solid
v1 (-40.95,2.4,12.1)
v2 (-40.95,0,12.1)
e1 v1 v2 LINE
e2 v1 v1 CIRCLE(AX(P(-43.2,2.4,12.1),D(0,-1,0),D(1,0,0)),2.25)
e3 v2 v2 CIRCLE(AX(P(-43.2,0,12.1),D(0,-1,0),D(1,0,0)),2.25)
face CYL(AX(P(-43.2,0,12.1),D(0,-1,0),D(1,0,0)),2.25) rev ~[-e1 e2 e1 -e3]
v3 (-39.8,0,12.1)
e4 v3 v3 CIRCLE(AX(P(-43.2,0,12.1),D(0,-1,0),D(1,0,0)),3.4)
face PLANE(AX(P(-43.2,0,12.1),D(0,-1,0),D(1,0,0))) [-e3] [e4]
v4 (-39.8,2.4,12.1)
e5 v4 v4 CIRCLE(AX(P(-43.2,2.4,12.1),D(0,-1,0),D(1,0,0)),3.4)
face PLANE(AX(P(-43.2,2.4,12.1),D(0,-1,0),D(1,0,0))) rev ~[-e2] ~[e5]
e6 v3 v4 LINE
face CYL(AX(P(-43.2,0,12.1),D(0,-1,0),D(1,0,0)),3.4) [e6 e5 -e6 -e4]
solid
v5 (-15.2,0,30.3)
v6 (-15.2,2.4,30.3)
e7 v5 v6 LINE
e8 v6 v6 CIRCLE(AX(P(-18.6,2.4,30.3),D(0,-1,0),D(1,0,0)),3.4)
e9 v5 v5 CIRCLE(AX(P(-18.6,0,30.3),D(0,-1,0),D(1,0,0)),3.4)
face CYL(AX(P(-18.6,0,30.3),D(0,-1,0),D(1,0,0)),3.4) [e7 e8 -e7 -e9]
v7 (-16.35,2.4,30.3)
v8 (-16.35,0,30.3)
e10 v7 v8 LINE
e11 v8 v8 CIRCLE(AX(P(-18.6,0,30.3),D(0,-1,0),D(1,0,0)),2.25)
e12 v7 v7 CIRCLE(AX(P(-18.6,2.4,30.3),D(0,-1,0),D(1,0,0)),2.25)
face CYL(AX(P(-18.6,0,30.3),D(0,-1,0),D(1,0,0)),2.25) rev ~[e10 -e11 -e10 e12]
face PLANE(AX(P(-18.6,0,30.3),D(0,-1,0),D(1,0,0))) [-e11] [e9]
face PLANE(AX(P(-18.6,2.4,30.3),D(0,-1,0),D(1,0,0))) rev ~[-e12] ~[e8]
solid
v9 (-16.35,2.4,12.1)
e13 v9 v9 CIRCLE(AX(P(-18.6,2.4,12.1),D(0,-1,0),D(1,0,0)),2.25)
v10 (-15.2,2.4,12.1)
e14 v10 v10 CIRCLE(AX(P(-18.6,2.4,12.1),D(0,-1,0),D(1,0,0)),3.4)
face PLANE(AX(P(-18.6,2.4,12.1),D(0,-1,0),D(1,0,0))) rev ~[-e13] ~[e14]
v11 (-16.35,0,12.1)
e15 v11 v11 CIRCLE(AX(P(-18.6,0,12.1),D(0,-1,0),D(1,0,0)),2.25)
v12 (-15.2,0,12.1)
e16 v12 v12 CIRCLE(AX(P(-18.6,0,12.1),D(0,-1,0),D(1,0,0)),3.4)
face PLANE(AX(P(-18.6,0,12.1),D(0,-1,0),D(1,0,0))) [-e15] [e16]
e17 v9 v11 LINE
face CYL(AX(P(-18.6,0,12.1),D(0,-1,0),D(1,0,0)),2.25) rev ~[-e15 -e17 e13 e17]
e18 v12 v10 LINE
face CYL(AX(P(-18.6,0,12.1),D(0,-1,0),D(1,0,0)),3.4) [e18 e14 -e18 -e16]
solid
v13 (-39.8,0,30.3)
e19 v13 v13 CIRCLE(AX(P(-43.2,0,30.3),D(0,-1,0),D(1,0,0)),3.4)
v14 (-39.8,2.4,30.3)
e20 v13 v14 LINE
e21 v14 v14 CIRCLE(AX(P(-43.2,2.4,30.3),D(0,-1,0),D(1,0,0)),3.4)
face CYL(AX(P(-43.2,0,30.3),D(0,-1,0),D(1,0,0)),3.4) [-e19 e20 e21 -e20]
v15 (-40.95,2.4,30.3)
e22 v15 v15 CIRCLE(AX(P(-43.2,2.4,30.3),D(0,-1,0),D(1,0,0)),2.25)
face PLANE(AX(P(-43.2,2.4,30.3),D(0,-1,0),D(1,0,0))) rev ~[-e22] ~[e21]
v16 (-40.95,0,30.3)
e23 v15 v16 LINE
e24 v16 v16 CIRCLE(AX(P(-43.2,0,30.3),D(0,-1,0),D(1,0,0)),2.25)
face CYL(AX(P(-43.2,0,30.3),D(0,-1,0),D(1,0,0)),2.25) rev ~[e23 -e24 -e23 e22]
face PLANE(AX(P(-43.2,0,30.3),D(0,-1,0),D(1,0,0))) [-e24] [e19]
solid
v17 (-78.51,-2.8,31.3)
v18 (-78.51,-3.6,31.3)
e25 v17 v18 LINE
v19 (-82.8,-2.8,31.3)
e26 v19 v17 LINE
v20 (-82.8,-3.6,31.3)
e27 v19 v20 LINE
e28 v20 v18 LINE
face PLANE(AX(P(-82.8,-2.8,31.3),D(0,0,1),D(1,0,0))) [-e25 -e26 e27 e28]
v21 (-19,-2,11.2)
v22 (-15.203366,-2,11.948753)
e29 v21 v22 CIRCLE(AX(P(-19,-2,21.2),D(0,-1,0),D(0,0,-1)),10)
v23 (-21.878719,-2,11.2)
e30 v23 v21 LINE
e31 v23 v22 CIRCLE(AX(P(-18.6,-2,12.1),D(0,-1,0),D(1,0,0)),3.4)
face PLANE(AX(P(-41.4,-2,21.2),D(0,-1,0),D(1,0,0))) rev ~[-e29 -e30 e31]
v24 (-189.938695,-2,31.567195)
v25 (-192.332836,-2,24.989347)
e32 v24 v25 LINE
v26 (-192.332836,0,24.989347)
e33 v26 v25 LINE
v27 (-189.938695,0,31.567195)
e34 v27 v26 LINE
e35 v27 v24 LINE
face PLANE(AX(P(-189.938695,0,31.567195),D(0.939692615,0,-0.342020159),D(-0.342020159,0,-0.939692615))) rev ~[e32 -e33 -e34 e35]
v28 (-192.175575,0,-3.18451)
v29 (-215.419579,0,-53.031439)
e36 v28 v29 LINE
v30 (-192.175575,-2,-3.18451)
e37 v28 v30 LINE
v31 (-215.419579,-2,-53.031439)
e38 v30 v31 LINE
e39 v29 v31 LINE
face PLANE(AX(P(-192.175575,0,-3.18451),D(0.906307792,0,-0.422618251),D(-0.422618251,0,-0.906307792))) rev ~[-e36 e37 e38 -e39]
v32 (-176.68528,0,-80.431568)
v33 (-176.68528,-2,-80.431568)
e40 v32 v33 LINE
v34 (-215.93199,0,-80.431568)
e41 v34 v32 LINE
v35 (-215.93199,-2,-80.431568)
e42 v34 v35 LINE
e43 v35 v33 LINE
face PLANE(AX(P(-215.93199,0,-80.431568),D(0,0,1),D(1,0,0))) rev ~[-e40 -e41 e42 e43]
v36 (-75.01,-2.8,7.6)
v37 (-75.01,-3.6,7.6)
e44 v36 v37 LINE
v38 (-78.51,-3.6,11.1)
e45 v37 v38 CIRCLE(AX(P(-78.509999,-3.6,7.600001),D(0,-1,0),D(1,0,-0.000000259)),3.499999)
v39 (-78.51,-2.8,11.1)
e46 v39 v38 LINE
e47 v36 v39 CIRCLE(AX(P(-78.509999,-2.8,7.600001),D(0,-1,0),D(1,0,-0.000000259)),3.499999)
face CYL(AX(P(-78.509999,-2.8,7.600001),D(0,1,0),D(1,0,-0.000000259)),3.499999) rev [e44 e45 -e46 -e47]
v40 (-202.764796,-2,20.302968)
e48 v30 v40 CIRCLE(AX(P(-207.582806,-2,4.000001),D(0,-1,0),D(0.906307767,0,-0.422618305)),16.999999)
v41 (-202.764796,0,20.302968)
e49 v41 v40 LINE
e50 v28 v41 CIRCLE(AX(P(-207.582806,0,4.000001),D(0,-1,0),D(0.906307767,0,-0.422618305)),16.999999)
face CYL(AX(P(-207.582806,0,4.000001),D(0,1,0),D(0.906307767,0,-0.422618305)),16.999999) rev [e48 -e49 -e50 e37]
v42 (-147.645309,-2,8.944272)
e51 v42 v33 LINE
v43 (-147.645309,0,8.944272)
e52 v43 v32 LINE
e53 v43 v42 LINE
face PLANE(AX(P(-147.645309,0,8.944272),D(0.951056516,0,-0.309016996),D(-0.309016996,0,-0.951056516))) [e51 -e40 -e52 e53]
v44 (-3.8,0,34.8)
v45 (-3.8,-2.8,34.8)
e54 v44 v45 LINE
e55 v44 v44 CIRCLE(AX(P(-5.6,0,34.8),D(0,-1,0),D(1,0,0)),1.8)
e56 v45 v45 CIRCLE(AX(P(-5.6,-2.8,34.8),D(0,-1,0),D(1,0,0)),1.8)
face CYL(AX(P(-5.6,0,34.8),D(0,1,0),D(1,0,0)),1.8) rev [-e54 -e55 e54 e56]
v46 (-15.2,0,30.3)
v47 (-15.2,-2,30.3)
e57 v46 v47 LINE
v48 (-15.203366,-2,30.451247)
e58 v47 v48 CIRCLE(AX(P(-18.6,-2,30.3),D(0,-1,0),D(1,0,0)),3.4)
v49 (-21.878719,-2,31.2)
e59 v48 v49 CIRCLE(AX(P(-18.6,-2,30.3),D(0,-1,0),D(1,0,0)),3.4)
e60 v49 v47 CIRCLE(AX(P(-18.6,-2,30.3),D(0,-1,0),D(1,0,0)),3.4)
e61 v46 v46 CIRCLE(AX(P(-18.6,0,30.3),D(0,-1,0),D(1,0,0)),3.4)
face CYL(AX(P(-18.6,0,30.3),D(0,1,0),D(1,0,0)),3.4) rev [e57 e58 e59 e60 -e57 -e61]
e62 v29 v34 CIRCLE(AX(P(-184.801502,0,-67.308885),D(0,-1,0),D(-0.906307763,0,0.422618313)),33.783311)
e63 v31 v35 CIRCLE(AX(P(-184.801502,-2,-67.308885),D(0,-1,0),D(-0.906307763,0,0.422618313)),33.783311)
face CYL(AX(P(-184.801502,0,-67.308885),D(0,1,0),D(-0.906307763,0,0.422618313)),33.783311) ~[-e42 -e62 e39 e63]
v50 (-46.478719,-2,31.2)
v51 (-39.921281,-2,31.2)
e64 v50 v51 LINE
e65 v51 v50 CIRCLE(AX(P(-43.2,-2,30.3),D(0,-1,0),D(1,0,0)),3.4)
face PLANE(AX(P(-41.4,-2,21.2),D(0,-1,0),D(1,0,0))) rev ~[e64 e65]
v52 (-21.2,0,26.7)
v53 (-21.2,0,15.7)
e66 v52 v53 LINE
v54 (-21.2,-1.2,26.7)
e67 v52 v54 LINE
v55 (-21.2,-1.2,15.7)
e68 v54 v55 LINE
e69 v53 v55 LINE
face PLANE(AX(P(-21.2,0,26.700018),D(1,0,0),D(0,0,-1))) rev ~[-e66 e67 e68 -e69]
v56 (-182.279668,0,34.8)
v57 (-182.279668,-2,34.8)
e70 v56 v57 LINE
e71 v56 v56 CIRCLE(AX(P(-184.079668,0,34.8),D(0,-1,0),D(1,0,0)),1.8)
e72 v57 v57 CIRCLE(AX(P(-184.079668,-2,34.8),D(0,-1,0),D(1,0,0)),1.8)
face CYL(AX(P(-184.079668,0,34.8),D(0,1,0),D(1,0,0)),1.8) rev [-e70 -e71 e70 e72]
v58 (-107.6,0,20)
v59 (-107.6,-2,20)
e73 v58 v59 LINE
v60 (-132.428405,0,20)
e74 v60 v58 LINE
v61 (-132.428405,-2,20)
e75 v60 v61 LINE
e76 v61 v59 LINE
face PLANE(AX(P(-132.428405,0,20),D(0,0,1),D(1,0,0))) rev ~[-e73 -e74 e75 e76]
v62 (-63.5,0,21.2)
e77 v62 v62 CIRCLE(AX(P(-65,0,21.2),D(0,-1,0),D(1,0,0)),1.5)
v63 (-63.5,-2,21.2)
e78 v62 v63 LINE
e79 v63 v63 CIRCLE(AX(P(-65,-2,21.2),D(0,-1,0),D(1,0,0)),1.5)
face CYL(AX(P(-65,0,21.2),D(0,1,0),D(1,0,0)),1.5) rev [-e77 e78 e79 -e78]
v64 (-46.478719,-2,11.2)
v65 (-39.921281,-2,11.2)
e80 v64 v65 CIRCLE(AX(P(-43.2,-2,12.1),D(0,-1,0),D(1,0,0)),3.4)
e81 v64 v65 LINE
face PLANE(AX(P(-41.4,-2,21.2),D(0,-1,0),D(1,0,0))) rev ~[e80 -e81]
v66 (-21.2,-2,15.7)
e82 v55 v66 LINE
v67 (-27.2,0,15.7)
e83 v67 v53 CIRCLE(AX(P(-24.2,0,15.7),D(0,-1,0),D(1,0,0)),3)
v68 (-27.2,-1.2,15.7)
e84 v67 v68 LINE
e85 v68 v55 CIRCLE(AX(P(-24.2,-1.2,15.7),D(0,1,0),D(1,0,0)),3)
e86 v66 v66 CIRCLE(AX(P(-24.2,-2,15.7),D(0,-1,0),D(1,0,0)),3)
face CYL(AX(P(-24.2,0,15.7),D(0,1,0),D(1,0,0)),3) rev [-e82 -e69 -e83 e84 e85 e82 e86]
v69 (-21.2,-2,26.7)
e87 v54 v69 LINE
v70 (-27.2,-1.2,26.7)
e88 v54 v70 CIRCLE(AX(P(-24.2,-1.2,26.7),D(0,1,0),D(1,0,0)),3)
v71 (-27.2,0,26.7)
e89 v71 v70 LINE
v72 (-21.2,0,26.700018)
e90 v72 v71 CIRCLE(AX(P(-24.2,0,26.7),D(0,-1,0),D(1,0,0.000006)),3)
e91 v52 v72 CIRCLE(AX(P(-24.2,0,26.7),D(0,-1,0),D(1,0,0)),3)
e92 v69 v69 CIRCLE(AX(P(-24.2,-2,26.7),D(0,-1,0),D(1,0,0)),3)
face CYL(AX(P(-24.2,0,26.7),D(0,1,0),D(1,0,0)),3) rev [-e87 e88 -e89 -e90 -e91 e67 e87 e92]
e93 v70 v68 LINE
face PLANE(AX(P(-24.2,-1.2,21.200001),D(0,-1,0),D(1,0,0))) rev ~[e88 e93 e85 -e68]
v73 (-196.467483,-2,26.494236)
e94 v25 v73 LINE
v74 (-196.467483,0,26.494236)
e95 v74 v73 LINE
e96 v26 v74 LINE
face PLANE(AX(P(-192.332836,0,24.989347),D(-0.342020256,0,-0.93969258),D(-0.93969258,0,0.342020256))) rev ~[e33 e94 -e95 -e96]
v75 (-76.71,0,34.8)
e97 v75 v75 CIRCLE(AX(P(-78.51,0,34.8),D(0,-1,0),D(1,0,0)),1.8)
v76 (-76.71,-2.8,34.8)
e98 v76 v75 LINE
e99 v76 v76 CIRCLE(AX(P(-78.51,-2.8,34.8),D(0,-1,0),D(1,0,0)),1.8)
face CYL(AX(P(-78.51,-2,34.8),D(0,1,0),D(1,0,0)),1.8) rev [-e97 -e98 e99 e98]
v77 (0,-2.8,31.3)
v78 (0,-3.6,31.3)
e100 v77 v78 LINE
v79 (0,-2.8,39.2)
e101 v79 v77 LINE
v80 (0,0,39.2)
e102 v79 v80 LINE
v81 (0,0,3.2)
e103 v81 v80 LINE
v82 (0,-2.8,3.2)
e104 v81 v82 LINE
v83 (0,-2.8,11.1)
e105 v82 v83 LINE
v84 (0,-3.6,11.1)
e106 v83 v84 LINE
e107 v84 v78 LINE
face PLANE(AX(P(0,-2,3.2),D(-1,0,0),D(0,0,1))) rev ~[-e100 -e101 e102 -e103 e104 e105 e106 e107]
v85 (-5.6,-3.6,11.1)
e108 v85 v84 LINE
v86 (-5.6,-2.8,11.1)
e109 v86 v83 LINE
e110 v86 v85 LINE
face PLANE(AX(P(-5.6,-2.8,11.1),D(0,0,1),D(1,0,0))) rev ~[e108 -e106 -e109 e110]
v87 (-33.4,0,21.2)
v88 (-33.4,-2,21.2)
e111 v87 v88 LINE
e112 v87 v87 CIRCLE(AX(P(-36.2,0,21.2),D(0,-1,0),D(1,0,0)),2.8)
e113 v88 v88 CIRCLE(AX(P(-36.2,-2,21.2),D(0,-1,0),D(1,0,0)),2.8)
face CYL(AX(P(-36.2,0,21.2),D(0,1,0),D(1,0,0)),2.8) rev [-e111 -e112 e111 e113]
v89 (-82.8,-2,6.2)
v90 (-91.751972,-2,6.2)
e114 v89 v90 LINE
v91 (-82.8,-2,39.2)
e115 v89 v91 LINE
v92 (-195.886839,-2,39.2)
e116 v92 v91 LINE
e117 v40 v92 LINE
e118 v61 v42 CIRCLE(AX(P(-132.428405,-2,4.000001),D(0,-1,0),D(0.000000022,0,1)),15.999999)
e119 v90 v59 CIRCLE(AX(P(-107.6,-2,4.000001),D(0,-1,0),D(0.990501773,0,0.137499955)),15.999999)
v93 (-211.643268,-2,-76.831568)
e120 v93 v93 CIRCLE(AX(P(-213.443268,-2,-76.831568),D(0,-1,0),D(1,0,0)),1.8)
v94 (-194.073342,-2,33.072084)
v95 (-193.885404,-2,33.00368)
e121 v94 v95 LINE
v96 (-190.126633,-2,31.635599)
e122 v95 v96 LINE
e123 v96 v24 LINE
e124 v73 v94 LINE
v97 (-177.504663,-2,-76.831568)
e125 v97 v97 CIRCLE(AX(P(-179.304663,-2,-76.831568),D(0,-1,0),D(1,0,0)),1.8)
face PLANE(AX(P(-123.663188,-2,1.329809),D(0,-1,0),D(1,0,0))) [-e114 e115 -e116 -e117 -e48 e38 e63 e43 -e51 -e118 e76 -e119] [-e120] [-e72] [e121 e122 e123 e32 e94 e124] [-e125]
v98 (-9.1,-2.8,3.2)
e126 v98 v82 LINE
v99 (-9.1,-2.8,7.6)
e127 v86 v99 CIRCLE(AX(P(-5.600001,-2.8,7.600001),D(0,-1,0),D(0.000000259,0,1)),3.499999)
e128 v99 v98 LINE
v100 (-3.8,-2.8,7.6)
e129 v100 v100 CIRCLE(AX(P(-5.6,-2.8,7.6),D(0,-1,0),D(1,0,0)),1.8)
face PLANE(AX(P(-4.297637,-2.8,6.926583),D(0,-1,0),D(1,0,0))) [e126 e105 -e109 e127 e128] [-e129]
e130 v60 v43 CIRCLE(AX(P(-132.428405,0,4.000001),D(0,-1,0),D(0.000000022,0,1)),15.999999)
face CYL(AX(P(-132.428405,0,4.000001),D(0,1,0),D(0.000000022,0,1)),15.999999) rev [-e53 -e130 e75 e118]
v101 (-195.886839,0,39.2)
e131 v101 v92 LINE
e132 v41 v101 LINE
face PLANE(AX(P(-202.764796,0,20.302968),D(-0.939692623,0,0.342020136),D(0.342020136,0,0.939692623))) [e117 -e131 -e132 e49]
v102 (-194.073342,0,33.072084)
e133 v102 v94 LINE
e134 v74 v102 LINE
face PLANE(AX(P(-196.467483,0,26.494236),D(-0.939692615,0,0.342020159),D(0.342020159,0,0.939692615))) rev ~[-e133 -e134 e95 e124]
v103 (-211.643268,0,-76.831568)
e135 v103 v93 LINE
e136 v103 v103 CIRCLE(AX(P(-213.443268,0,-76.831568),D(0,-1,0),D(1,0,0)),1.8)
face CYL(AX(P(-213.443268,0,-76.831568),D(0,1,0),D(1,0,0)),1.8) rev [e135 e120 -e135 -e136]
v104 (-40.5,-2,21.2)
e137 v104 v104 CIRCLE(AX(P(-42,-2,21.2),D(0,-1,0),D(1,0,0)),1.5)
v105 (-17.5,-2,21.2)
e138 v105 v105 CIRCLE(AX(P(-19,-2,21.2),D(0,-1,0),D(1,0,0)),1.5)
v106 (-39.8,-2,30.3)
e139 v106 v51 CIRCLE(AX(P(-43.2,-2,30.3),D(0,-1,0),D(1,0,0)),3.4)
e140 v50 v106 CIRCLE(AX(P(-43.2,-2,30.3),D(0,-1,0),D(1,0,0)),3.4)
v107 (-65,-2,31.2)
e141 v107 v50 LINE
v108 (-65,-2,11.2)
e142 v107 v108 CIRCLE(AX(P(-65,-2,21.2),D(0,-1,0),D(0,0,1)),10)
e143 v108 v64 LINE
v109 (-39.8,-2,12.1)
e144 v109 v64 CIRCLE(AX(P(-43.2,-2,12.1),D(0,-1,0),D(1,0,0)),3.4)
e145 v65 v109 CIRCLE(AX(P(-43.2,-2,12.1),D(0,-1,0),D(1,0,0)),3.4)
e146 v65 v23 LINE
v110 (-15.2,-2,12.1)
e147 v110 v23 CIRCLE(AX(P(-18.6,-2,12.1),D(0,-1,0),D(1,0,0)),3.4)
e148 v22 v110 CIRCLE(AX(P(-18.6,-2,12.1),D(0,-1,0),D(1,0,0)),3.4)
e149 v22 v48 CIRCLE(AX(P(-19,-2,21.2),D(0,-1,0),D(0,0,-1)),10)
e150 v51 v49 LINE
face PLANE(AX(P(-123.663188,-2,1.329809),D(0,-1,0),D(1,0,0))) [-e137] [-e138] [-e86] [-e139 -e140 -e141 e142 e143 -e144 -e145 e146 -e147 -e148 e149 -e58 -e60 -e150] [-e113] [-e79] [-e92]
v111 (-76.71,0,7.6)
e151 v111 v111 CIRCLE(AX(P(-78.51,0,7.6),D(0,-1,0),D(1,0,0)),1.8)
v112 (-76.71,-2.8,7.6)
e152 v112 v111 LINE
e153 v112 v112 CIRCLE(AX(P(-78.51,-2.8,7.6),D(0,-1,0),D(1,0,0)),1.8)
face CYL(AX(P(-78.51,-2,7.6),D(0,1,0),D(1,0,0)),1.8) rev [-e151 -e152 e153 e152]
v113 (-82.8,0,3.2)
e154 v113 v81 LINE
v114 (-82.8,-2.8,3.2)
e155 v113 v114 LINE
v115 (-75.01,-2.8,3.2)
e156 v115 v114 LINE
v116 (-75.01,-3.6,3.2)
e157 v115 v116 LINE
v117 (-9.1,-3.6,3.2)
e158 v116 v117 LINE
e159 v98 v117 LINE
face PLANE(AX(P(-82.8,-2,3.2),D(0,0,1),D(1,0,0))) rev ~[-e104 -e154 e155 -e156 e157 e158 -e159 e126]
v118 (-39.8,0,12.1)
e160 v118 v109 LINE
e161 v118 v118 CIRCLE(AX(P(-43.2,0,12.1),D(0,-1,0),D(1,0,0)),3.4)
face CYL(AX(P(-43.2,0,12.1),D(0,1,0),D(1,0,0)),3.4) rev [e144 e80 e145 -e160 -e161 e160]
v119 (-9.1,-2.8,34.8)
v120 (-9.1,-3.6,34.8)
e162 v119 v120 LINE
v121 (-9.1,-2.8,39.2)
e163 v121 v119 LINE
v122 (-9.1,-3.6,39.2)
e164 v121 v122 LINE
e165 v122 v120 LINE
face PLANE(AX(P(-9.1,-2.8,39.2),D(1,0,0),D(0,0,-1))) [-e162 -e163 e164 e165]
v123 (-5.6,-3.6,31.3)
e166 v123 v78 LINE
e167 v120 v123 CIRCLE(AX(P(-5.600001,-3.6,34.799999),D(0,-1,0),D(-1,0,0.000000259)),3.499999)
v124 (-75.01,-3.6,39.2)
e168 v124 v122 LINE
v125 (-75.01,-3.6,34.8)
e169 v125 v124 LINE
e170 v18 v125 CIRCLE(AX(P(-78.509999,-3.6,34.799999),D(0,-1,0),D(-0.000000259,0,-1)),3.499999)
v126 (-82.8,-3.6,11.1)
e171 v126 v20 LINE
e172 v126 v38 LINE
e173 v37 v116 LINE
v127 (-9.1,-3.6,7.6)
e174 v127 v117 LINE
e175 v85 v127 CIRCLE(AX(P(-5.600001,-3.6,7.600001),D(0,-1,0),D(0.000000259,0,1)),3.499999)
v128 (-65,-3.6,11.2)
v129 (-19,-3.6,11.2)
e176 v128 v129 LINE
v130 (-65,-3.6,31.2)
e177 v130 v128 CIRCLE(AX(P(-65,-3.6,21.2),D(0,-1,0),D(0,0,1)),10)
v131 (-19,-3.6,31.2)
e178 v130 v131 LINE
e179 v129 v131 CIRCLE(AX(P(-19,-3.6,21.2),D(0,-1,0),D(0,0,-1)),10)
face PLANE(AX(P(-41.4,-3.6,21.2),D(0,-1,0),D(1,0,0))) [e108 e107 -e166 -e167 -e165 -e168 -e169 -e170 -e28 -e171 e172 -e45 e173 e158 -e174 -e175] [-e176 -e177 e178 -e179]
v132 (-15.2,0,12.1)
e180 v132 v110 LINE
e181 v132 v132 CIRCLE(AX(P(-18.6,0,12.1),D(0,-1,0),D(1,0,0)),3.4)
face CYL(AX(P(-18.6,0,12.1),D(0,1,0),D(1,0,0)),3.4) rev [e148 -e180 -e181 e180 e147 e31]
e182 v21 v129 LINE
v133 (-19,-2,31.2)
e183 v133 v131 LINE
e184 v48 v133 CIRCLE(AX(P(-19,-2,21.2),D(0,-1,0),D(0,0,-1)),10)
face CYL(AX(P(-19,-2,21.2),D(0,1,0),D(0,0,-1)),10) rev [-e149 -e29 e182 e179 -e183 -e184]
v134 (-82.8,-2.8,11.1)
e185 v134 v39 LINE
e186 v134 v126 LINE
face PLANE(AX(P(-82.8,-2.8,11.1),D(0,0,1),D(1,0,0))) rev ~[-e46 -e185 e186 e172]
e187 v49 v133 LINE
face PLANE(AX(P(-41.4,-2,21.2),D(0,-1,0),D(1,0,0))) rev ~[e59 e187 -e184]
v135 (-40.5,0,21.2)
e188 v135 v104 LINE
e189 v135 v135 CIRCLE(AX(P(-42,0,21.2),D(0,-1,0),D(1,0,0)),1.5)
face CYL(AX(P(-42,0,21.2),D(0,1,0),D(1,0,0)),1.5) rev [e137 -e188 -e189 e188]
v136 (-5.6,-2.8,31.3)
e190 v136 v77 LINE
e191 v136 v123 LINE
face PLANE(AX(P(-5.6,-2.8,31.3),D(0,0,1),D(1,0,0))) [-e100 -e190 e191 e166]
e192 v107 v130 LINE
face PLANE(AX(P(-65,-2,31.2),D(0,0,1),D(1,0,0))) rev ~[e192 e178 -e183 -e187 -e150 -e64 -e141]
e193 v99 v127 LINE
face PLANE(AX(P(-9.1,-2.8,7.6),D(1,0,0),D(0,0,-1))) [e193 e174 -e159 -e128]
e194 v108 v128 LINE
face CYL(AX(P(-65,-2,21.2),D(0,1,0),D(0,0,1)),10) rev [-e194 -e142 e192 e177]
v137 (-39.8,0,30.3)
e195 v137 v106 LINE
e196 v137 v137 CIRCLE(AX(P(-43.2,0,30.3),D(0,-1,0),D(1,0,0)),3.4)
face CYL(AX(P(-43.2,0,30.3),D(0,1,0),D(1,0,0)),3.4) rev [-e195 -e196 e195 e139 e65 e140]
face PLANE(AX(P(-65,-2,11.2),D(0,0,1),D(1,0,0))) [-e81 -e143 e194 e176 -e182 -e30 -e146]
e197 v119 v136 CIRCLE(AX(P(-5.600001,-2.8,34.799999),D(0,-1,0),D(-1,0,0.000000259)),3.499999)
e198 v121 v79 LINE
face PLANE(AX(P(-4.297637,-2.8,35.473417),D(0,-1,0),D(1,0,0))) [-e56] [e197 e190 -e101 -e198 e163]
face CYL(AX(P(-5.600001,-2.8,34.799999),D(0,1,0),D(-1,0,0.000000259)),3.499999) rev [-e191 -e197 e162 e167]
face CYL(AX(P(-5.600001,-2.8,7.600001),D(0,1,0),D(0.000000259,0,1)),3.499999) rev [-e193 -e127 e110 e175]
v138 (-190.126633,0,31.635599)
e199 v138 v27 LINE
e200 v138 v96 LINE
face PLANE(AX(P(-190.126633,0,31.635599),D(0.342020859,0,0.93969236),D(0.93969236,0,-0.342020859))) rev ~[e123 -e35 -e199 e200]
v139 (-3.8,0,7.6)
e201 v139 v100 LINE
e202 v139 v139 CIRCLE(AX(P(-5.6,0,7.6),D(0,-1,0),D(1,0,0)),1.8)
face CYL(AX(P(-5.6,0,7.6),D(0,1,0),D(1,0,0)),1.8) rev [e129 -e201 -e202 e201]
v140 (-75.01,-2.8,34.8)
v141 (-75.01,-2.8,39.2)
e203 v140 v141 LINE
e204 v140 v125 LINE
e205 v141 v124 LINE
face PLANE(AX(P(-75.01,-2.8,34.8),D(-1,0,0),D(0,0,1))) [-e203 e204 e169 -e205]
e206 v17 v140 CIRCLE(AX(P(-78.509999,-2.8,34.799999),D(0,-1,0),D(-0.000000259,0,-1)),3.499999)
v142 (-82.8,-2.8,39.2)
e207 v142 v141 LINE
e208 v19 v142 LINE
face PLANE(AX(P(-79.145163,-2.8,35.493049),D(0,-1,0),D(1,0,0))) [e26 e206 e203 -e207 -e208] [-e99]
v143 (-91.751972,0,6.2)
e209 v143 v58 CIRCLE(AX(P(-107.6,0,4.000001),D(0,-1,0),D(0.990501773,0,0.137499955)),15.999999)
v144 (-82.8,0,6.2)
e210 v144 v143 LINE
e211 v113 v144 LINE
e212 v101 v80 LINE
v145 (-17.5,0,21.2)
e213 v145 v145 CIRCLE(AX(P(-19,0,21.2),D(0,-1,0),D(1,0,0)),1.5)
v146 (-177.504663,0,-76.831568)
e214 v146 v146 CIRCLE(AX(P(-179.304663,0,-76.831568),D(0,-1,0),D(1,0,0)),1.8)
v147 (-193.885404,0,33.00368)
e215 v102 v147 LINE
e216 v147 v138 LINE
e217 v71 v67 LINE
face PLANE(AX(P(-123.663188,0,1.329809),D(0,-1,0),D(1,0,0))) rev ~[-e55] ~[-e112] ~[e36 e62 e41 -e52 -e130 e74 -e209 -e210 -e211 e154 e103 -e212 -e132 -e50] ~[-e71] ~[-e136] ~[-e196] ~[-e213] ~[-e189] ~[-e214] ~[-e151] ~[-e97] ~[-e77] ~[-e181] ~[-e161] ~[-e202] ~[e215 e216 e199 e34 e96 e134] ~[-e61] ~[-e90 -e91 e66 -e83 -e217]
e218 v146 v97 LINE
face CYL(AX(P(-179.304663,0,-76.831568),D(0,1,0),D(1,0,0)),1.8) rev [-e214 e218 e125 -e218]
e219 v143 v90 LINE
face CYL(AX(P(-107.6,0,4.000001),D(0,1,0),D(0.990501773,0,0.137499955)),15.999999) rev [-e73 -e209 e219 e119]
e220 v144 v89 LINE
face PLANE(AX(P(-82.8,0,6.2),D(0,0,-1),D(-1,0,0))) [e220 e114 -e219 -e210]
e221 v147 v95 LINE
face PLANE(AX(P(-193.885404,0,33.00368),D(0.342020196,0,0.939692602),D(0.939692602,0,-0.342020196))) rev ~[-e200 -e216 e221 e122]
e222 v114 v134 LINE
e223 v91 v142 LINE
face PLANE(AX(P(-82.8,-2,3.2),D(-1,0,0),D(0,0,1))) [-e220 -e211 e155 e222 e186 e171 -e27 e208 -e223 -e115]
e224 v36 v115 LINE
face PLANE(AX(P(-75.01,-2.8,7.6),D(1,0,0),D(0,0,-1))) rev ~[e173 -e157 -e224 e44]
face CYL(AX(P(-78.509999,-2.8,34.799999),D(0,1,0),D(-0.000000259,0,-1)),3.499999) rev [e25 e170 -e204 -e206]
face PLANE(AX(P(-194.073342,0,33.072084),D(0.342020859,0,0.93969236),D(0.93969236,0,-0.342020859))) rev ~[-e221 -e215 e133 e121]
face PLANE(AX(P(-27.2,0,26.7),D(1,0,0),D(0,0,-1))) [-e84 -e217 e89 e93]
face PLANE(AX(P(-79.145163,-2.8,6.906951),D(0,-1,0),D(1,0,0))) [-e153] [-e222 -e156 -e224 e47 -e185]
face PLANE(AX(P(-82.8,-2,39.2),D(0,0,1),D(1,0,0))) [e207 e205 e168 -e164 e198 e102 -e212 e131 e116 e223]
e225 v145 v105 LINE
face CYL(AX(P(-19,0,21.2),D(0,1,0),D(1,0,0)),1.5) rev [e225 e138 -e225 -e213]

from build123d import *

# Parameters (mm, degrees)
SKETCH085_R           = 1.8
EXTRUDE085_DEPTH      = 0.8
SKETCH083_W           = 82.8
SKETCH083_H           = 36
SKETCH083_R           = 1.8
EXTRUDE083_DEPTH      = 1.6
SKETCH080_R           = 2.25
EXTRUDE081_DEPTH      = 0.6
EXTRUDE081_DEPTH_BACK = 2.4
SKETCH081_R           = 3.4
EXTRUDE080_DEPTH      = 2.4
EXTRUDE079_DEPTH      = 1.2
SKETCH075_R           = 1.8
SKETCH075_R_2         = 3.4
SKETCH075_R_3         = 2.8
SKETCH075_R_4         = 3
SKETCH075_R_5         = 1.5
EXTRUDE078_DEPTH      = 2


with BuildPart() as extrude085:
    # Sketch085 → Extrude085 (new body)
    with BuildSketch(Plane.XZ):
        with BuildLine():
            ThreePointArc((-78.51, 31.3), (-76.035126, 32.325126), (-75.01, 34.8))
            Line((-75.01, 34.8), (-75.01, 39.2))
            Line((-82.8, 39.2), (-75.01, 39.2))
            Line((-82.8, 31.3), (-82.8, 39.2))
            Line((-82.8, 31.3), (-78.51, 31.3))
        make_face()
        with Locations((-78.51, 34.8)):
            Circle(SKETCH085_R, mode=Mode.SUBTRACT)
        with BuildLine():
            ThreePointArc((-9.1, 34.8), (-8.074874, 32.325126), (-5.6, 31.3))
            Line((-5.6, 31.3), (0, 31.3))
            Line((0, 39.2), (0, 31.3))
            Line((-9.1, 39.2), (0, 39.2))
            Line((-9.1, 39.2), (-9.1, 34.8))
        make_face()
        with Locations((-5.6, 34.8)):
            Circle(SKETCH085_R, mode=Mode.SUBTRACT)
        with BuildLine():
            ThreePointArc((-75.01, 7.6), (-76.035126, 10.074874), (-78.51, 11.1))
            Line((-82.8, 11.1), (-78.51, 11.1))
            Line((-82.8, 3.2), (-82.8, 11.1))
            Line((-75.01, 3.2), (-82.8, 3.2))
            Line((-75.01, 7.6), (-75.01, 3.2))
        make_face()
        with Locations((-78.51, 7.6)):
            Circle(SKETCH085_R, mode=Mode.SUBTRACT)
        with BuildLine():
            ThreePointArc((-5.6, 11.1), (-8.074874, 10.074874), (-9.1, 7.6))
            Line((-9.1, 7.6), (-9.1, 3.2))
            Line((-9.1, 3.2), (0, 3.2))
            Line((0, 3.2), (0, 11.1))
            Line((-5.6, 11.1), (0, 11.1))
        make_face()
        with Locations((-5.6, 7.6)):
            Circle(SKETCH085_R, mode=Mode.SUBTRACT)
    extrude(amount=EXTRUDE085_DEPTH)


with BuildPart() as extrude085_1:
    # Extrude085 placement: moved
    add(extrude085.part.moved(Location((0, -2.8, 0))))


with BuildPart() as cut048:
    # Sketch083 → Extrude083 (new body)
    with BuildSketch(Plane.XZ):
        with Locations((-41.4, 21.2)):
            Rectangle(SKETCH083_W, SKETCH083_H)
        with Locations((-78.51, 34.8)):
            Circle(SKETCH083_R, mode=Mode.SUBTRACT)
        with Locations((-5.6, 34.8)):
            Circle(SKETCH083_R, mode=Mode.SUBTRACT)
        with Locations((-5.6, 7.6)):
            Circle(SKETCH083_R, mode=Mode.SUBTRACT)
        with Locations((-78.51, 7.6)):
            Circle(SKETCH083_R, mode=Mode.SUBTRACT)
        with BuildLine():
            ThreePointArc((-65, 31.2), (-75, 21.2), (-65, 11.2))
            Line((-65, 11.2), (-19, 11.2))
            ThreePointArc((-19, 11.2), (-9, 21.2), (-19, 31.2))
            Line((-65, 31.2), (-19, 31.2))
        make_face(mode=Mode.SUBTRACT)
    extrude(amount=EXTRUDE083_DEPTH)


with BuildPart() as cut048_1:
    # Extrude083 placement: moved
    add(cut048.part.moved(Location((0, -2, 0))))

    # Cut048: cut Extrude085
    add(extrude085_1.part, mode=Mode.SUBTRACT)


with BuildPart() as extrude081:
    # Sketch080 → Extrude081 (new body, two sides)
    with BuildSketch(Plane.XZ) as extrude081_sk:
        with Locations((-18.6, 12.1)):
            Circle(SKETCH080_R)
        with Locations((-18.6, 30.3)):
            Circle(SKETCH080_R)
        with Locations((-43.2, 30.3)):
            Circle(SKETCH080_R)
        with Locations((-43.2, 12.1)):
            Circle(SKETCH080_R)
    extrude(amount=EXTRUDE081_DEPTH)
    extrude(extrude081_sk.sketch, amount=-EXTRUDE081_DEPTH_BACK)


with BuildPart() as extrude080:
    # Sketch081 → Extrude080 (new body)
    with BuildSketch(Plane.XZ):
        with Locations((-43.2, 30.3)):
            Circle(SKETCH081_R)
        with Locations((-18.6, 30.3)):
            Circle(SKETCH081_R)
        with Locations((-43.2, 12.1)):
            Circle(SKETCH081_R)
        with Locations((-18.6, 12.1)):
            Circle(SKETCH081_R)
    extrude(amount=-EXTRUDE080_DEPTH)


with BuildPart() as extrude_lato_dx_pistola_scavi_pulsanti:
    # Sketch077 → Extrude079 (new body)
    with BuildSketch(Plane.XZ):
        with BuildLine():
            Line((-27.2, 26.7), (-27.2, 15.7))
            ThreePointArc((-27.2, 15.7), (-24.2, 12.7), (-21.2, 15.7))
            Line((-21.2, 26.700018), (-21.2, 15.7))
            ThreePointArc((-21.2, 26.700018), (-24.200009, 29.7), (-27.2, 26.7))
        make_face()
    extrude(amount=EXTRUDE079_DEPTH)


with BuildPart() as fusion006:
    # Sketch075 → Extrude078 (new body)
    with BuildSketch(Plane.XZ):
        with BuildLine():
            Line((-82.8, 3.2), (0, 3.2))
            Line((0, 3.2), (0, 39.2))
            Line((-195.886839, 39.2), (0, 39.2))
            Line((-202.764796, 20.302968), (-195.886839, 39.2))
            ThreePointArc((-192.175575, -3.18451), (-192.085048, 10.987093), (-202.764796, 20.302968))
            Line((-192.175575, -3.18451), (-215.419579, -53.031439))
            ThreePointArc((-215.419579, -53.031439), (-218.578907, -66.677212), (-215.93199, -80.431568))
            Line((-215.93199, -80.431568), (-176.68528, -80.431568))
            Line((-147.645309, 8.944272), (-176.68528, -80.431568))
            ThreePointArc((-132.428405, 20), (-141.832969, 16.944272), (-147.645309, 8.944272))
            Line((-132.428405, 20), (-107.6, 20))
            ThreePointArc((-91.751972, 6.2), (-97.09286, 16.066483), (-107.6, 20))
            Line((-82.8, 6.2), (-91.751972, 6.2))
            Line((-82.8, 3.2), (-82.8, 6.2))
        make_face()
        with Locations((-213.443268, -76.831568)):
            Circle(SKETCH075_R, mode=Mode.SUBTRACT)
        with Locations((-179.304663, -76.831568)):
            Circle(SKETCH075_R, mode=Mode.SUBTRACT)
        with Locations((-184.079668, 34.8)):
            Circle(SKETCH075_R, mode=Mode.SUBTRACT)
        with Locations((-78.51, 34.8)):
            Circle(SKETCH075_R, mode=Mode.SUBTRACT)
        with Locations((-78.51, 7.6)):
            Circle(SKETCH075_R, mode=Mode.SUBTRACT)
        with Locations((-5.6, 34.8)):
            Circle(SKETCH075_R, mode=Mode.SUBTRACT)
        with Locations((-5.6, 7.6)):
            Circle(SKETCH075_R, mode=Mode.SUBTRACT)
        with Locations((-18.6, 30.3)):
            Circle(SKETCH075_R_2, mode=Mode.SUBTRACT)
        with Locations((-18.6, 12.1)):
            Circle(SKETCH075_R_2, mode=Mode.SUBTRACT)
        with Locations((-43.2, 30.3)):
            Circle(SKETCH075_R_2, mode=Mode.SUBTRACT)
        with Locations((-43.2, 12.1)):
            Circle(SKETCH075_R_2, mode=Mode.SUBTRACT)
        with Locations((-36.2, 21.2)):
            Circle(SKETCH075_R_3, mode=Mode.SUBTRACT)
        with Locations((-24.2, 26.7)):
            Circle(SKETCH075_R_4, mode=Mode.SUBTRACT)
        with Locations((-24.2, 15.7)):
            Circle(SKETCH075_R_4, mode=Mode.SUBTRACT)
        with Locations((-65, 21.2)):
            Circle(SKETCH075_R_5, mode=Mode.SUBTRACT)
        with Locations((-42, 21.2)):
            Circle(SKETCH075_R_5, mode=Mode.SUBTRACT)
        with Locations((-19, 21.2)):
            Circle(SKETCH075_R_5, mode=Mode.SUBTRACT)
        Polygon((-189.938695, 31.567195), (-192.332836, 24.989347), (-196.467483, 26.494236), (-194.073342, 33.072084), (-193.885404, 33.00368), (-190.126633, 31.635599), align=None, mode=Mode.SUBTRACT)
    extrude(amount=EXTRUDE078_DEPTH)

    # Cut045: cut Extrude lato dx pistola - scavi pulsanti
    add(extrude_lato_dx_pistola_scavi_pulsanti.part, mode=Mode.SUBTRACT)

    # Fusion004: union Extrude080
    add(extrude080.part)

    # Cut046: cut Extrude081
    add(extrude081.part, mode=Mode.SUBTRACT)

    # Fusion006: union Cut048
    add(cut048_1.part)


solid = fusion006.part
